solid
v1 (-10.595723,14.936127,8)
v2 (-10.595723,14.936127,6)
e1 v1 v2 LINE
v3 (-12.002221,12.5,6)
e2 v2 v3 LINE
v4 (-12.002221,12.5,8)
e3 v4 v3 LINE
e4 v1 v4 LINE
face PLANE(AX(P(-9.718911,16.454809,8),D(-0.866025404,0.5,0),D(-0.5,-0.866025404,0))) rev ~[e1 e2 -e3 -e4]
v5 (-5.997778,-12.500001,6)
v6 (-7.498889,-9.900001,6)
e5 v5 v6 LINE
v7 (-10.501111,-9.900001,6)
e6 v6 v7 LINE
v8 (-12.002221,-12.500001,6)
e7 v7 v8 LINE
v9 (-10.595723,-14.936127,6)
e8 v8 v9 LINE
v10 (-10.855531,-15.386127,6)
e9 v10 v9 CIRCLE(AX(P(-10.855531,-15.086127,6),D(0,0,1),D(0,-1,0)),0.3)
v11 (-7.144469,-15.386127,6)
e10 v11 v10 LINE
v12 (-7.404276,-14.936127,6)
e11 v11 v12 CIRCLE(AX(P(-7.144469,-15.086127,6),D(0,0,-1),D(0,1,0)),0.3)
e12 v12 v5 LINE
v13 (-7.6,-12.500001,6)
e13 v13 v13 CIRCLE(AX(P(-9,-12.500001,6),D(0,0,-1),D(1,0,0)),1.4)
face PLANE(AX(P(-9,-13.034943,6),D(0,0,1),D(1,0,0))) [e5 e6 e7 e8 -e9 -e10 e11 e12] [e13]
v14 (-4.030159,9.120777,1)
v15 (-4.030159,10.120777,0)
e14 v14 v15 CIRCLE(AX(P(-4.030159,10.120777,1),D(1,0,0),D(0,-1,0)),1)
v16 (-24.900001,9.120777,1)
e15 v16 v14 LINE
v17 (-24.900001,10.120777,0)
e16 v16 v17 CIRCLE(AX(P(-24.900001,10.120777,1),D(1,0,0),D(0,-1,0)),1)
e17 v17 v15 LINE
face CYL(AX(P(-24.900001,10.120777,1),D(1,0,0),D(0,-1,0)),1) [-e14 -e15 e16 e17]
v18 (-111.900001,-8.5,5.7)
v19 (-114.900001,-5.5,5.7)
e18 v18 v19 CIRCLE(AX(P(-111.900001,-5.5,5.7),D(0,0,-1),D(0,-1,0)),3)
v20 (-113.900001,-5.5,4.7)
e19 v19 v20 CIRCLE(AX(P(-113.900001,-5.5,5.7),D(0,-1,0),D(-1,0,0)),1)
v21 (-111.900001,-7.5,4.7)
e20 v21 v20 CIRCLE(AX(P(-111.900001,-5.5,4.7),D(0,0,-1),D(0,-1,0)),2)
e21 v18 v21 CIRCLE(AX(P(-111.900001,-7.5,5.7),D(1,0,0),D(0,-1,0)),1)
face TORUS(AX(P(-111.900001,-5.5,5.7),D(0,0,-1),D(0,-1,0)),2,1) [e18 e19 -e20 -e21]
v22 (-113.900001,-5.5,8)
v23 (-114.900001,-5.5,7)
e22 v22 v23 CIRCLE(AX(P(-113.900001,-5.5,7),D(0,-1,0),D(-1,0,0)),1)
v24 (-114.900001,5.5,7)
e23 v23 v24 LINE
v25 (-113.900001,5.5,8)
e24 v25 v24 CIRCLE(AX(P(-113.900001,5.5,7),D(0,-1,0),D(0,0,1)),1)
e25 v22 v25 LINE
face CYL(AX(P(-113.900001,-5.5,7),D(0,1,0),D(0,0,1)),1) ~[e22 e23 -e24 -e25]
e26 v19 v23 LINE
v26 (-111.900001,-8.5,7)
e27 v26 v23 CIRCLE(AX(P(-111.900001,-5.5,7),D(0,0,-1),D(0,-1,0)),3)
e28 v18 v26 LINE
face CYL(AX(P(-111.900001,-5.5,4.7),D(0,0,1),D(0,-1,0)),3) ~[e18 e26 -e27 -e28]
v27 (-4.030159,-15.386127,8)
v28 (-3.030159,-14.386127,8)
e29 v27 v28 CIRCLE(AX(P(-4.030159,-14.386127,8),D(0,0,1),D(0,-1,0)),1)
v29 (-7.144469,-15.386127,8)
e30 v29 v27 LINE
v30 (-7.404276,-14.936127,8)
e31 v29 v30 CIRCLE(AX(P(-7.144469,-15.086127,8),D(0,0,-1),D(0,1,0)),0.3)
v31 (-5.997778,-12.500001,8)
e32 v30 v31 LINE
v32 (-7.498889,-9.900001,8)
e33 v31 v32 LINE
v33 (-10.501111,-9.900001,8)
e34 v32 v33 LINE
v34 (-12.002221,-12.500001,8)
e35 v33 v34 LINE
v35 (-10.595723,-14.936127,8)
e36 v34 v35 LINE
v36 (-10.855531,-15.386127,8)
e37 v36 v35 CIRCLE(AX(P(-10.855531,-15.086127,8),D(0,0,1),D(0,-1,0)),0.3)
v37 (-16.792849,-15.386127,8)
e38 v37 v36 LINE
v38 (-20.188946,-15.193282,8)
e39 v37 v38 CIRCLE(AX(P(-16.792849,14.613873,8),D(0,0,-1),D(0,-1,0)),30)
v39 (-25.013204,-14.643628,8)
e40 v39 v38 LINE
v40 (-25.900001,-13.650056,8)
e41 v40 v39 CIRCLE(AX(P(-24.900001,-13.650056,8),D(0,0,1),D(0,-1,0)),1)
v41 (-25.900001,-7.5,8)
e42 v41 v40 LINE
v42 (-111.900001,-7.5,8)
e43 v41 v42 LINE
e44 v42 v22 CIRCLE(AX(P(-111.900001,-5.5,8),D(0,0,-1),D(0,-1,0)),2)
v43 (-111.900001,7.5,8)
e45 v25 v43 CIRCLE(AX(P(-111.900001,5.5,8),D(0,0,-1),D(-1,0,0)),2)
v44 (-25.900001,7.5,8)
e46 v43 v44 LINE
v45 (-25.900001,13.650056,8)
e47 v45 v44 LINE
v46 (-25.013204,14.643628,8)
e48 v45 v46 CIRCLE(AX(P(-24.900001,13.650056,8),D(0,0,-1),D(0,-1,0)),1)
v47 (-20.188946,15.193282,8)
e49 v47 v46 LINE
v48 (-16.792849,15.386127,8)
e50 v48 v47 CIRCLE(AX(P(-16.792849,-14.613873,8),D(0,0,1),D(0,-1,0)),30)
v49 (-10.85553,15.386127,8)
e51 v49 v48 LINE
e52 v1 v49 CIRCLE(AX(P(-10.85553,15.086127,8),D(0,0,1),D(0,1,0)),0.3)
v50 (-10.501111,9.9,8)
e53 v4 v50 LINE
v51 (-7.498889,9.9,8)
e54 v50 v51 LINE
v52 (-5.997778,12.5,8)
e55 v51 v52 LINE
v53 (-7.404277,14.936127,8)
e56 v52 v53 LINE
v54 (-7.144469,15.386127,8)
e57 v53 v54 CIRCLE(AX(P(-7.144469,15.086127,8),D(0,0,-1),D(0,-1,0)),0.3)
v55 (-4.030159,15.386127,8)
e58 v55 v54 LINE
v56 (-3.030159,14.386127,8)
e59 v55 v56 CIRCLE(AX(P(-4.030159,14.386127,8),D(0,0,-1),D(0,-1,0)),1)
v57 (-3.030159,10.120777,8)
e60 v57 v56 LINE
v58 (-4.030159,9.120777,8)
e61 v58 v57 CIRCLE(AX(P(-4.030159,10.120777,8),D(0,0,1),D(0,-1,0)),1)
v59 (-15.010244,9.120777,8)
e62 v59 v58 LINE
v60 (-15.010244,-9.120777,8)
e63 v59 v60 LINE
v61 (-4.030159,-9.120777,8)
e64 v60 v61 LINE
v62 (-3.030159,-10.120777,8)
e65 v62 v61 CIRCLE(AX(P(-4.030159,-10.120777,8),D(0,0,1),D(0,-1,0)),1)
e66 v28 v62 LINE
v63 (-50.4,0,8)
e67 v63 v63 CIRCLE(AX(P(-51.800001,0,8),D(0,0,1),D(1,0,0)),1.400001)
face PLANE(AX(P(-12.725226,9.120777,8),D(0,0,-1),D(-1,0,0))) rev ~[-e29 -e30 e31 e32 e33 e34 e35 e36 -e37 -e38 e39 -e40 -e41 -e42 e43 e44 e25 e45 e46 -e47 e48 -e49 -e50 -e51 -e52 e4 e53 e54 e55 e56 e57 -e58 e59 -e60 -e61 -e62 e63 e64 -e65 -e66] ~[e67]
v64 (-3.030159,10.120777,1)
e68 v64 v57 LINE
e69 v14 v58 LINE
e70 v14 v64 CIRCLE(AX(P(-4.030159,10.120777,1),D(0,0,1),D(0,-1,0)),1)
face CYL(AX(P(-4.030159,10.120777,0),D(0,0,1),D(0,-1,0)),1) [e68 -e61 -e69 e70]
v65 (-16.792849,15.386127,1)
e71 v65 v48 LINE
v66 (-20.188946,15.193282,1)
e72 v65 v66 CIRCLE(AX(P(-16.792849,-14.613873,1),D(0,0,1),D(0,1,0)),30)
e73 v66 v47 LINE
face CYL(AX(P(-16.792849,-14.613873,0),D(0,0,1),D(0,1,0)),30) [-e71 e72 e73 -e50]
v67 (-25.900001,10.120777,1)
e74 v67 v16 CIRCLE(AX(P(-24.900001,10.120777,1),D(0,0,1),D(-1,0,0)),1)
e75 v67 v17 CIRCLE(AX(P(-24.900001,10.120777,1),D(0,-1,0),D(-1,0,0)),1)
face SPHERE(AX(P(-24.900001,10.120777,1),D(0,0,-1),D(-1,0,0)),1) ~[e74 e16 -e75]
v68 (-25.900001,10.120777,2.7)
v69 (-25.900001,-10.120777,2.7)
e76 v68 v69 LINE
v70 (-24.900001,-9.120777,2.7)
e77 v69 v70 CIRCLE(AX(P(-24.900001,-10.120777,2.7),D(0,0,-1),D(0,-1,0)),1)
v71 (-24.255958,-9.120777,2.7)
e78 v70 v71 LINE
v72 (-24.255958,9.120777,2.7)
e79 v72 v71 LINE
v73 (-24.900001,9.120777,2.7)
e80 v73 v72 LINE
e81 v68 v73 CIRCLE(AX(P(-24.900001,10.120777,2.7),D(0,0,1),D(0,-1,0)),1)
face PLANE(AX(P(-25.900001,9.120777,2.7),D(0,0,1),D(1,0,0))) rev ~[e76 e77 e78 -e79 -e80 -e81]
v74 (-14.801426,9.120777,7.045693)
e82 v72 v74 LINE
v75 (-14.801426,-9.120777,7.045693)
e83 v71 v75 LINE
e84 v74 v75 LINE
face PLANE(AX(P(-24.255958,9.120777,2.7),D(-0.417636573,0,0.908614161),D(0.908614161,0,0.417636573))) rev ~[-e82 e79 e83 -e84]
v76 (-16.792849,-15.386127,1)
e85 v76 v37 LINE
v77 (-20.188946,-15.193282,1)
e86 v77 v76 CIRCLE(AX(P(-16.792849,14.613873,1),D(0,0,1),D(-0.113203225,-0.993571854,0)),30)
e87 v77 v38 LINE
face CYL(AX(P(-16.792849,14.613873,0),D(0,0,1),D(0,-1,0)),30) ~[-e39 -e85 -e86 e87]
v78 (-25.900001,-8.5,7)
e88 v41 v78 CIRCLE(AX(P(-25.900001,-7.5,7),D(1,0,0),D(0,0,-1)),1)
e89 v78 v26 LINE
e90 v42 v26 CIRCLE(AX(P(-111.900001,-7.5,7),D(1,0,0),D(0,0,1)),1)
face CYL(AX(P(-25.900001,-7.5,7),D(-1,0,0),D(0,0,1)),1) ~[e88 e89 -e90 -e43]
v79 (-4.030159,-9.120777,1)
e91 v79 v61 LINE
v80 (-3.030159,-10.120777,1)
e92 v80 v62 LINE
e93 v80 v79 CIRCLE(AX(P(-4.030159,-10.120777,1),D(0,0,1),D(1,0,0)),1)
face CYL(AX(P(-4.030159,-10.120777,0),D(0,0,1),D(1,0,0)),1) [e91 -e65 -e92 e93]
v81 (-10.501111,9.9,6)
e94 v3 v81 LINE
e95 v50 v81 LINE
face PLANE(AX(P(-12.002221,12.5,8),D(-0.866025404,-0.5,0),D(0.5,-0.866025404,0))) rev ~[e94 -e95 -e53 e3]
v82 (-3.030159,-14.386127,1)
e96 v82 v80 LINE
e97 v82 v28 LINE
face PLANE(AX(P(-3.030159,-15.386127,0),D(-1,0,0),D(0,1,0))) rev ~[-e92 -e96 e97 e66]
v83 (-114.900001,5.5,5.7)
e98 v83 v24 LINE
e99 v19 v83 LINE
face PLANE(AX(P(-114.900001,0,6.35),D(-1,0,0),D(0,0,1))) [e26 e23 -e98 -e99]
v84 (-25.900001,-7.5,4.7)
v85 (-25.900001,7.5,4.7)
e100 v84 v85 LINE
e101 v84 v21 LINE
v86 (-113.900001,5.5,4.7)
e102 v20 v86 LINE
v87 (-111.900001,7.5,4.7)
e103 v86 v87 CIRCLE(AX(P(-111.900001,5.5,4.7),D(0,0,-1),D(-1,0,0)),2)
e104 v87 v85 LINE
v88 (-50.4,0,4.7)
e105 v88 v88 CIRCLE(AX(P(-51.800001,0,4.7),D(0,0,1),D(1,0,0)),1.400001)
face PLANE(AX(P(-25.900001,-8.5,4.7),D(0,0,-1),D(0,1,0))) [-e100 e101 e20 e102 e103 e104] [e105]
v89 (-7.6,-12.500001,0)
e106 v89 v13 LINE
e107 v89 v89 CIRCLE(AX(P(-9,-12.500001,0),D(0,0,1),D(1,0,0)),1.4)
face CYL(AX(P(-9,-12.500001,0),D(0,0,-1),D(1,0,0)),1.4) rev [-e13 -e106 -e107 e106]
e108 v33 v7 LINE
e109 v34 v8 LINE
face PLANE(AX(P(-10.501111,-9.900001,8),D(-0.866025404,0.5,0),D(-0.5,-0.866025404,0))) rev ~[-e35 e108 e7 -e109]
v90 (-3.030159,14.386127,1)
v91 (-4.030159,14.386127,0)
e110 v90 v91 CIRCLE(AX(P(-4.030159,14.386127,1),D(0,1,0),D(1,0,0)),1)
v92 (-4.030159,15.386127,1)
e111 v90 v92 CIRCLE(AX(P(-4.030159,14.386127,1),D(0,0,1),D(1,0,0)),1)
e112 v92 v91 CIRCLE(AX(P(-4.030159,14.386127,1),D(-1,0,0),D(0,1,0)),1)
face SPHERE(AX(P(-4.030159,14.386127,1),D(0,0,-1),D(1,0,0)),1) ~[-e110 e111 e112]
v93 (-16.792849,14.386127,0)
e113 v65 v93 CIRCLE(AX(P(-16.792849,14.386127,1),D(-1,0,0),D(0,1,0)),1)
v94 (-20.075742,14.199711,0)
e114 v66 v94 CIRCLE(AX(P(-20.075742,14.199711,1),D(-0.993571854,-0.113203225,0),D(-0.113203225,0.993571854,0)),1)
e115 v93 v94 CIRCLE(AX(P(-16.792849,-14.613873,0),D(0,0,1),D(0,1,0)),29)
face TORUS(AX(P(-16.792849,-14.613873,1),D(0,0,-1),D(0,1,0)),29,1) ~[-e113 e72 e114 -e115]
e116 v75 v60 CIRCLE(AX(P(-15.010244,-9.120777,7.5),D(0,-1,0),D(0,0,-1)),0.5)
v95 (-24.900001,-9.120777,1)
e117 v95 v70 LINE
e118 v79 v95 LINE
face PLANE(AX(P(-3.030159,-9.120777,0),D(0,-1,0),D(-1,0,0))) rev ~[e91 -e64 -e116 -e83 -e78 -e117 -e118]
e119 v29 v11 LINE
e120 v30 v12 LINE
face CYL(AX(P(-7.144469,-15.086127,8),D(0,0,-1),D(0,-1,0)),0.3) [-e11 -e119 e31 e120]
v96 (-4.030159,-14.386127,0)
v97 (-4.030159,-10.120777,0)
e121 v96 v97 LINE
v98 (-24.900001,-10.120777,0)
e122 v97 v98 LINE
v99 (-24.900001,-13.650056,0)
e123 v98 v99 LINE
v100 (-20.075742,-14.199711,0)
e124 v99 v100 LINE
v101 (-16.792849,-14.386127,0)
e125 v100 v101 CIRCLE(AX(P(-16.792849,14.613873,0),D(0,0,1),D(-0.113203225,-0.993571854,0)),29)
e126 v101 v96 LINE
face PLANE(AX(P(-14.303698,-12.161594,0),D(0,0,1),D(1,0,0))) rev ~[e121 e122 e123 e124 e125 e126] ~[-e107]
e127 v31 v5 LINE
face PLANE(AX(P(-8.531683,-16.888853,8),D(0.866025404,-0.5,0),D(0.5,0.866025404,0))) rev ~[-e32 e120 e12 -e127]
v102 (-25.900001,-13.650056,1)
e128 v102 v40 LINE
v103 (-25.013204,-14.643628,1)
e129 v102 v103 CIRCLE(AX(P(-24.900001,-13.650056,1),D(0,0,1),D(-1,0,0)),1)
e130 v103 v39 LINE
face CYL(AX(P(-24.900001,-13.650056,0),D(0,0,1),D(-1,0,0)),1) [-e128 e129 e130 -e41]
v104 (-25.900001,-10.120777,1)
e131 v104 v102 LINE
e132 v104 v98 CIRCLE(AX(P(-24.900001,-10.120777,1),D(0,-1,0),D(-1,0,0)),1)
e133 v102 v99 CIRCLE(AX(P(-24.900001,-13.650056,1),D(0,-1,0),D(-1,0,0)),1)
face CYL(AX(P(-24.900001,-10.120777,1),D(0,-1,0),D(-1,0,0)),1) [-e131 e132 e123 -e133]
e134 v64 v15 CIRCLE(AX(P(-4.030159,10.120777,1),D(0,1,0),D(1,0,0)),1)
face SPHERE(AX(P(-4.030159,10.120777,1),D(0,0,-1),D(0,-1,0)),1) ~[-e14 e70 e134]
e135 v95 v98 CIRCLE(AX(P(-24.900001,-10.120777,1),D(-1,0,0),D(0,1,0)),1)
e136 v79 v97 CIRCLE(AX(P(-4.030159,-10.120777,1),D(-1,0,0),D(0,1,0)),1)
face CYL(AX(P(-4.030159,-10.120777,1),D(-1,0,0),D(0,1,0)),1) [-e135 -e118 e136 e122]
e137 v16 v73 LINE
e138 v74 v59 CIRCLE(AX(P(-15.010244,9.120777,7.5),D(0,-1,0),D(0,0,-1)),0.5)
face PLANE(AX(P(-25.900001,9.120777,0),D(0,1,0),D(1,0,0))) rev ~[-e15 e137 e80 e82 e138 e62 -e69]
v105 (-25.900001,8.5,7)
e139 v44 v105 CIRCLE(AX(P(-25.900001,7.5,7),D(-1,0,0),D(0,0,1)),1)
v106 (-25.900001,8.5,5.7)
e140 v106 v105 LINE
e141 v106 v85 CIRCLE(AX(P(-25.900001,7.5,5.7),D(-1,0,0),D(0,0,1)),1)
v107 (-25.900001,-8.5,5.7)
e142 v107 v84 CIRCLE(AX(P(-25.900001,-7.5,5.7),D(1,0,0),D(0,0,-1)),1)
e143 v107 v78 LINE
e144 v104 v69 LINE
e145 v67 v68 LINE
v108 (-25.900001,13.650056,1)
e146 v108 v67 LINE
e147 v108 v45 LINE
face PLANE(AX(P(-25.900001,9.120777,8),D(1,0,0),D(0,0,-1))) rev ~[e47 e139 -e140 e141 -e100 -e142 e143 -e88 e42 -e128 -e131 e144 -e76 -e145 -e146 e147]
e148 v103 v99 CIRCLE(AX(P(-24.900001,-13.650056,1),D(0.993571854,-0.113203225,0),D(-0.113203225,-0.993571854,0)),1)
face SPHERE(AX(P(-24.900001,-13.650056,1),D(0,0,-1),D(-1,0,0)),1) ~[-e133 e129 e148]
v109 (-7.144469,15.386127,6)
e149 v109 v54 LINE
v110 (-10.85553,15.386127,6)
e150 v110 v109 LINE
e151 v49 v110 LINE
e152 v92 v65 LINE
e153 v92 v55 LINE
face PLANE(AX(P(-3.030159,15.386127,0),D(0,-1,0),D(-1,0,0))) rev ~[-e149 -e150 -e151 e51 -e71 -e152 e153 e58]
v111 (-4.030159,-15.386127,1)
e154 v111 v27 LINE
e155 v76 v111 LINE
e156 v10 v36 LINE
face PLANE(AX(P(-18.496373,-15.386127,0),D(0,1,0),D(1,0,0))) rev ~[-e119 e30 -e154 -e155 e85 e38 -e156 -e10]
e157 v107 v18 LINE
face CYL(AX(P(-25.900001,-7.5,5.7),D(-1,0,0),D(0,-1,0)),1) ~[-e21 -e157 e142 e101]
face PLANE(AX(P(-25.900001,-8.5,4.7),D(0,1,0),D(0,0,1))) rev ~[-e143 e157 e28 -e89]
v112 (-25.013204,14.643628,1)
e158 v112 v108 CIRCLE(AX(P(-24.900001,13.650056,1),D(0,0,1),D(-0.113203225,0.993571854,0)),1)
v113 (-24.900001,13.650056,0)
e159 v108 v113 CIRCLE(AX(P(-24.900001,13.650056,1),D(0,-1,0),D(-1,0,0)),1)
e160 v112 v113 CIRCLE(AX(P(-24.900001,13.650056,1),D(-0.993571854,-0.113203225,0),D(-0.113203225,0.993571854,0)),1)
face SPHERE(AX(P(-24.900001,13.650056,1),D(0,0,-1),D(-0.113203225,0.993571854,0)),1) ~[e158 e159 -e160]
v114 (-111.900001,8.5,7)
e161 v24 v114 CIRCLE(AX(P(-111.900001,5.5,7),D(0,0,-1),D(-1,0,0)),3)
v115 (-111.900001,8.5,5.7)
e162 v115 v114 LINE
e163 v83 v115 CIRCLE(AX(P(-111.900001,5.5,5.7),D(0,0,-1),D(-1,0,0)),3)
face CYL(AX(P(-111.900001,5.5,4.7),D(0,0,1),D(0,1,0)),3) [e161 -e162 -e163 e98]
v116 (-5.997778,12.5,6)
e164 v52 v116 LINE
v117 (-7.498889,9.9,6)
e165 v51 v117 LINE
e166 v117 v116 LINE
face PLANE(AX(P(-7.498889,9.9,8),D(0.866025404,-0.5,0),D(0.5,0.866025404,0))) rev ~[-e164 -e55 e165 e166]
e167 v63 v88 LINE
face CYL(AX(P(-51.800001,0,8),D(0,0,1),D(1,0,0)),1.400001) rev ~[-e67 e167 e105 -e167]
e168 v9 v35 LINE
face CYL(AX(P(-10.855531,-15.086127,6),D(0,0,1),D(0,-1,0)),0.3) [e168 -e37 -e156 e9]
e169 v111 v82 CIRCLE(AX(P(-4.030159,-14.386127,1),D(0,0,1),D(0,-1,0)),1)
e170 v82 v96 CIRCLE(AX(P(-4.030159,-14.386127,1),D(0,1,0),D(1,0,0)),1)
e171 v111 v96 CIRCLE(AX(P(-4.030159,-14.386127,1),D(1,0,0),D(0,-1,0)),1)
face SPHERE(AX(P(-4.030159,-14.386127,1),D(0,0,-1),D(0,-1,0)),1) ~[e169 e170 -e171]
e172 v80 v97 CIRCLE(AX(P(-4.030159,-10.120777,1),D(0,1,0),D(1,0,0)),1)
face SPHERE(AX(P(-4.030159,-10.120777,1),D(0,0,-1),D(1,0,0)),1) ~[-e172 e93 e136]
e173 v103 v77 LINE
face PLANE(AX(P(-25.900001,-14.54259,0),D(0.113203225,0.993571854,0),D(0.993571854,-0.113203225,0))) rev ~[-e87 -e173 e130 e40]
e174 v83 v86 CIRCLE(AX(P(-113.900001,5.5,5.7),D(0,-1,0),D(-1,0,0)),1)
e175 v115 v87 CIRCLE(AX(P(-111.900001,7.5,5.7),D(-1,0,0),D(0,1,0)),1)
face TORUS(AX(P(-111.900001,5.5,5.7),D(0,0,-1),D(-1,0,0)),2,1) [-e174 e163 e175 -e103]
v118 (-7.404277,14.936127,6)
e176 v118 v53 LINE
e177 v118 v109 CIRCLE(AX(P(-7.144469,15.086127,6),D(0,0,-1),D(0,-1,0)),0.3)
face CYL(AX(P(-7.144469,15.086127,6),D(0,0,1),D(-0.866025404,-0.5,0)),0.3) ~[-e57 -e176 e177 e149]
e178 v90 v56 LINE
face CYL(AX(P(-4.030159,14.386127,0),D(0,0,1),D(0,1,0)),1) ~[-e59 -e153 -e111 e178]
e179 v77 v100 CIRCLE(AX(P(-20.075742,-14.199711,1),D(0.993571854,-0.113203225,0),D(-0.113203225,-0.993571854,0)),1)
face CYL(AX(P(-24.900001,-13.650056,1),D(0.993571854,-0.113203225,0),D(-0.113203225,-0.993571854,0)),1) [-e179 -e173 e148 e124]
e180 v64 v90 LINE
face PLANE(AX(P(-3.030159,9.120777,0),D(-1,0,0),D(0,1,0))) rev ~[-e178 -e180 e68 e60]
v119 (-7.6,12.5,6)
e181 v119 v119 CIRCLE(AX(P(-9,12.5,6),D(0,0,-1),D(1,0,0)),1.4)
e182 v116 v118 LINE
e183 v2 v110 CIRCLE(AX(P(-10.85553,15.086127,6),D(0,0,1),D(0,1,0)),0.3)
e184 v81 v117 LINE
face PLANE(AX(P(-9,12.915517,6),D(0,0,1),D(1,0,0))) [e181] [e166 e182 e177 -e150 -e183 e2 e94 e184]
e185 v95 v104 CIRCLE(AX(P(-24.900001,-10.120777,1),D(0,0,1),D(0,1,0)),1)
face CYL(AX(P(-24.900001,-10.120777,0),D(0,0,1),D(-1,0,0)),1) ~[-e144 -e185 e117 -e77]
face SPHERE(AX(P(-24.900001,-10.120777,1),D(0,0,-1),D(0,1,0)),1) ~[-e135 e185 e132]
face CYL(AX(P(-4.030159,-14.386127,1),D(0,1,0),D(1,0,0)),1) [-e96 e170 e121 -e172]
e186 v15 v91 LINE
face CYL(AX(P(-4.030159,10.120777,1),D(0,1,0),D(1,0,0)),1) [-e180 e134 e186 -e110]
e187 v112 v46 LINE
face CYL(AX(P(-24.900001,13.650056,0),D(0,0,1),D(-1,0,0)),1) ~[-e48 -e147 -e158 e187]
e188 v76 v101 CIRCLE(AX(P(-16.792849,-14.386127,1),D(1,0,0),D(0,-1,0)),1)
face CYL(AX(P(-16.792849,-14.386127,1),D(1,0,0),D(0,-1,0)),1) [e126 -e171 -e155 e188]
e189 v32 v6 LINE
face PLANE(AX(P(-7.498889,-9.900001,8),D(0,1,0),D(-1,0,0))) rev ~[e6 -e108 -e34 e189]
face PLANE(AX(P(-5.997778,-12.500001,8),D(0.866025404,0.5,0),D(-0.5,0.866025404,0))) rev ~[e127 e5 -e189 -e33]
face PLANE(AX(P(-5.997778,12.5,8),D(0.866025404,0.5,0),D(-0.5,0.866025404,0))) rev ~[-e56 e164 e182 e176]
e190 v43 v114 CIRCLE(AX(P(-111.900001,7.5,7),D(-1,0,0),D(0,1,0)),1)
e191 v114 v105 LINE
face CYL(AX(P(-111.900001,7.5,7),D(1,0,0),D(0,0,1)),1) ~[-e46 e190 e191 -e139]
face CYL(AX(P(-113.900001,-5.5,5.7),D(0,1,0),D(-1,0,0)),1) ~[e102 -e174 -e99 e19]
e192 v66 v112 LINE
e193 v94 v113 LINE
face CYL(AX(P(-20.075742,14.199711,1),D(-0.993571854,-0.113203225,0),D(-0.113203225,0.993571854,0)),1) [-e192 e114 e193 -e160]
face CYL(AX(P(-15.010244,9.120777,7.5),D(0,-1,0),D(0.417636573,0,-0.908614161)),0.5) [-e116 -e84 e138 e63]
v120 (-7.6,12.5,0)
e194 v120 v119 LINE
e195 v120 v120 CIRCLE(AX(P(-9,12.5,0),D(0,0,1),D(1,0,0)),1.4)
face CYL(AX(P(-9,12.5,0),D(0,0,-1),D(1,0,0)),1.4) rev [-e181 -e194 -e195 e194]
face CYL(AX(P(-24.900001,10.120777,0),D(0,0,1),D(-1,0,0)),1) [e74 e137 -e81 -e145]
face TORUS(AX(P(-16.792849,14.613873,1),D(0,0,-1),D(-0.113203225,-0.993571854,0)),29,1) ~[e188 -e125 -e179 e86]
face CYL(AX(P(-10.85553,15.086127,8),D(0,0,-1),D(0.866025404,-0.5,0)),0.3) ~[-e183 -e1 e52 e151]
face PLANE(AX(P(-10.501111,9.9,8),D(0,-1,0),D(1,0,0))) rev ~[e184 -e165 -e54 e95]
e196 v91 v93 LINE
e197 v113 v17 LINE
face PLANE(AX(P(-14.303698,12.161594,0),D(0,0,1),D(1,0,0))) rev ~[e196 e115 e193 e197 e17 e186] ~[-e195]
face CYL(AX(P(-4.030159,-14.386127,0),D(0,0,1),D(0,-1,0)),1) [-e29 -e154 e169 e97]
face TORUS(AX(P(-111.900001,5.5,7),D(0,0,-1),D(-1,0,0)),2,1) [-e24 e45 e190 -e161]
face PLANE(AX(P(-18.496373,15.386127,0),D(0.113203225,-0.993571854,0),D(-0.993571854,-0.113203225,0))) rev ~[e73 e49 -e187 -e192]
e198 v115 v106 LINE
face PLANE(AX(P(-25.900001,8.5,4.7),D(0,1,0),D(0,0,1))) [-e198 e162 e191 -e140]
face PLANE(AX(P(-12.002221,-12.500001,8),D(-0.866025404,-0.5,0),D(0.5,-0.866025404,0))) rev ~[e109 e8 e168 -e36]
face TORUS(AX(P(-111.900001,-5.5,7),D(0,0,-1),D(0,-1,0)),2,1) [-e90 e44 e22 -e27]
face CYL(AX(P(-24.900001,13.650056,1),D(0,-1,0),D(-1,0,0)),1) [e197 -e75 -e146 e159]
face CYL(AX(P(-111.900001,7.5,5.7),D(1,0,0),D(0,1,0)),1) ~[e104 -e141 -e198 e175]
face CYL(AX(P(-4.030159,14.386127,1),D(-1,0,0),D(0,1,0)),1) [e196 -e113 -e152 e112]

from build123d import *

# Parameters (mm, degrees)
SKETCH1_R             = 1.4000000000000001
BOSS_EXTRUDE1_DEPTH   = 8
SKETCH1_R_2           = 1.4000001329680465
BOSS_EXTRUDE1_2_DEPTH = 8
CUT_EXTRUDE1_DEPTH    = 2
BOSS_EXTRUDE2_REACH   = 38.543
FILLET1_R             = 0.3
FILLET2_R             = 0.5
SKETCH4_W             = 3.300000288709998
SKETCH4_H             = 17
BOSS_EXTRUDE3_DEPTH   = 89
FILLET3_R             = 3
FILLET4_R             = 1
FILLET5_R             = 30
FILLET6_R             = 1
FILLET7_R             = 1
SKETCH5_R             = 1.4000008127885915
CUT_EXTRUDE2_DEPTH    = 117.20130403381272


with BuildPart() as part:
    # Sketch1 → Boss-Extrude1 (new body)
    with BuildSketch(Plane.XY):
        Polygon((-3.0301585163921114, 15.386126765608788), (-18.49637259864768, 15.386126765608788), (-25.90000070631504, 14.542589808684392), (-25.90000070631504, 9.120777419209476), (-3.030158516392113, 9.12077741920948), align=None)
        with Locations((-8.999999881867154, 12.49999987202729)):
            Circle(SKETCH1_R, mode=Mode.SUBTRACT)
    extrude(amount=BOSS_EXTRUDE1_DEPTH)


with BuildPart() as body_2:
    # Sketch1 → Boss-Extrude1 2 (new body)
    with BuildSketch(Plane.XY):
        Polygon((-3.0301585163921114, -15.386126765608788), (-3.0301585163921114, -9.12077741920948), (-25.90000070631504, -9.12077741920948), (-25.90000070631504, -14.542589808684392), (-18.496372598647696, -15.386126765608788), align=None)
        with Locations((-8.999999825719202, -12.500000716819214)):
            Circle(SKETCH1_R_2, mode=Mode.SUBTRACT)
    extrude(amount=BOSS_EXTRUDE1_2_DEPTH)


with BuildPart() as cut_extrude1_tool:
    # Sketch2 → Cut-Extrude1 (new body)
    with BuildSketch(Plane.XY.offset(8)):
        Polygon((-5.997778482081098, 12.499999872027288), (-7.498889181974129, 15.099999872027293), (-8.281088680356937, 16.454809144881214), (-9.718911083377371, 16.454809144881214), (-10.501110581760184, 15.099999872027293), (-12.002221281653215, 12.499999872027287), (-10.501110581760186, 9.899999872027289), (-7.498889181974125, 9.899999872027289), align=None)
        Polygon((-7.498889125826173, -9.900000716819214), (-10.501110525612221, -9.900000716819216), (-12.002221225505249, -12.500000716819212), (-10.501110525612223, -15.100000716819206), (-9.468316266504699, -16.88885284735889), (-8.531683384933698, -16.888852847358898), (-7.498889125826177, -15.100000716819206), (-5.997778425933152, -12.500000716819208), align=None)
    extrude(amount=-CUT_EXTRUDE1_DEPTH)


with BuildPart() as part_1:
    add(part.part)

    # Cut-Extrude1: cut by cut_extrude1_tool
    add(cut_extrude1_tool.part, mode=Mode.SUBTRACT)


with BuildPart() as body_2_1:
    add(body_2.part)

    # Cut-Extrude1: cut by cut_extrude1_tool
    add(cut_extrude1_tool.part, mode=Mode.SUBTRACT)

    # Sketch3 → Boss-Extrude2 (add, up to next)
    with BuildSketch(Plane.XZ.offset(-9.12077741920948), mode=Mode.PRIVATE) as boss_extrude2_sk1:
        Polygon((-25.90000070631504, 8), (-25.90000070631504, 2.699999711290002), (-24.255957938355465, 2.6999997112900025), (-12.725226135105776, 8), (-18.496372598647696, 8), align=None)
    boss_extrude2_tool1 = extrude(boss_extrude2_sk1.sketch, amount=BOSS_EXTRUDE2_REACH, mode=Mode.PRIVATE) - body_2_1.part

    add(part_1.part)  # Boss-Extrude2 merges part
    add(boss_extrude2_tool1.solids().sort_by_distance((-21.447611, 9.120777, 6.037334))[0])

    # Fillet1
    fillet1_edges = [body_2_1.edges().sort_by_distance(p)[0] for p in [
        (-10.335915142728517, 15.386126765608788, 7),
        (-7.664084621005797, 15.386126765608788, 7),
        (-7.664084077117004, -15.386126765608788, 7),
        (-10.33591557432139, -15.386126765608788, 7),
    ]]
    fillet(fillet1_edges, radius=FILLET1_R)

    # Fillet2
    fillet2_edges = [body_2_1.edges().sort_by_distance(p)[0] for p in [
        (-12.725226135105776, 0, 8),
    ]]
    fillet(fillet2_edges, radius=FILLET2_R)

    # Sketch4 → Boss-Extrude3 (add)
    with BuildSketch(Plane.ZY.offset(25.90000070631504)):
        with Locations((6.349999855645001, 0)):
            Rectangle(SKETCH4_W, SKETCH4_H)
    extrude(amount=BOSS_EXTRUDE3_DEPTH)

    # Fillet3
    fillet3_edges = [body_2_1.edges().sort_by_distance(p)[0] for p in [
        (-114.90000070631504, 8.5, 6.349999855645001),
        (-114.90000070631504, -8.5, 6.349999855645001),
    ]]
    fillet(fillet3_edges, radius=FILLET3_R)

    # Fillet4
    fillet4_edges = [body_2_1.edges().sort_by_distance(p)[0] for p in [
        (-3.0301585163921114, 15.386126765608788, 4),
        (-3.0301585163921123, 9.12077741920948, 4),
        (-25.90000070631504, 14.542589808684392, 4),
        (-25.90000070631504, 9.120777419209476, 1.349999855645001),
        (-3.0301585163921114, -9.12077741920948, 4),
        (-25.90000070631504, -9.12077741920948, 1.349999855645001),
        (-25.90000070631504, -14.542589808684392, 4),
        (-3.0301585163921114, -15.386126765608788, 4),
    ]]
    fillet(fillet4_edges, radius=FILLET4_R)

    # Fillet5
    fillet5_edges = [body_2_1.edges().sort_by_distance(p)[0] for p in [
        (-18.49637259864768, 15.38612676560879, 4),
        (-18.496372598647696, -15.386126765608788, 4),
    ]]
    fillet(fillet5_edges, radius=FILLET5_R)

    # Fillet6
    fillet6_edges = [body_2_1.edges().sort_by_distance(p)[0] for p in [
        (-14.465079611353577, 9.120777419209478, 0),
        (-22.601074828066285, 14.918454973167087, 0),
        (-3.0301585163921114, 12.253452092409134, 0),
        (-25.90000070631504, 11.885416556829192, 0),
        (-3.323051735205564, 15.093233546795336, 0),
        (-3.3230517352055653, 9.413670638022932, 0),
        (-25.646058085143018, 14.315937356229982, 0),
        (-25.607107487501587, 9.413670638022928, 0),
        (-25.90000070631504, -11.885416556829192, 0),
        (-14.465079611353575, -9.12077741920948, 0),
        (-3.0301585163921114, -12.253452092409134, 0),
        (-10.411503745491025, -15.386126765608788, 0),
        (-3.323051735205564, -9.413670638022932, 0),
        (-3.323051735205564, -15.093233546795336, 0),
        (-25.646058085143018, -14.315937356229977, 0),
        (-25.607107487501587, -9.413670638022932, 0),
        (-22.601074828066285, -14.918454973167087, 0),
        (-18.493632770900625, -15.337876872709488, 0),
        (-10.411503745491025, 15.386126765608788, 0),
        (-18.493632770900625, 15.337876872709492, 0),
    ]]
    fillet(fillet6_edges, radius=FILLET6_R)

    # Fillet7
    fillet7_edges = [body_2_1.edges().sort_by_distance(p)[0] for p in [
        (-114.90000070631504, 1.78e-15, 8),
        (-114.90000070631504, 0, 4.699999711290002),
        (-68.90000070631504, 8.5, 8),
        (-68.90000070631504, -8.5, 8),
        (-114.02132104987469, 7.621320343559643, 8),
        (-114.02132104987469, -7.621320343559643, 8),
        (-68.90000070631504, -8.5, 4.699999711290002),
        (-68.90000070631504, 8.5, 4.699999711290002),
        (-114.02132104987469, 7.621320343559643, 4.699999711290002),
        (-114.02132104987469, -7.621320343559643, 4.699999711290002),
    ]]
    fillet(fillet7_edges, radius=FILLET7_R)

    # Sketch5 → Cut-Extrude2 (cut, through all)
    with BuildSketch(Plane.XY.offset(8)):
        with Locations((-51.80000095537239, -2.0194977255e-07)):
            Circle(SKETCH5_R)
    extrude(amount=-CUT_EXTRUDE2_DEPTH, mode=Mode.SUBTRACT)


solid = body_2_1.part
